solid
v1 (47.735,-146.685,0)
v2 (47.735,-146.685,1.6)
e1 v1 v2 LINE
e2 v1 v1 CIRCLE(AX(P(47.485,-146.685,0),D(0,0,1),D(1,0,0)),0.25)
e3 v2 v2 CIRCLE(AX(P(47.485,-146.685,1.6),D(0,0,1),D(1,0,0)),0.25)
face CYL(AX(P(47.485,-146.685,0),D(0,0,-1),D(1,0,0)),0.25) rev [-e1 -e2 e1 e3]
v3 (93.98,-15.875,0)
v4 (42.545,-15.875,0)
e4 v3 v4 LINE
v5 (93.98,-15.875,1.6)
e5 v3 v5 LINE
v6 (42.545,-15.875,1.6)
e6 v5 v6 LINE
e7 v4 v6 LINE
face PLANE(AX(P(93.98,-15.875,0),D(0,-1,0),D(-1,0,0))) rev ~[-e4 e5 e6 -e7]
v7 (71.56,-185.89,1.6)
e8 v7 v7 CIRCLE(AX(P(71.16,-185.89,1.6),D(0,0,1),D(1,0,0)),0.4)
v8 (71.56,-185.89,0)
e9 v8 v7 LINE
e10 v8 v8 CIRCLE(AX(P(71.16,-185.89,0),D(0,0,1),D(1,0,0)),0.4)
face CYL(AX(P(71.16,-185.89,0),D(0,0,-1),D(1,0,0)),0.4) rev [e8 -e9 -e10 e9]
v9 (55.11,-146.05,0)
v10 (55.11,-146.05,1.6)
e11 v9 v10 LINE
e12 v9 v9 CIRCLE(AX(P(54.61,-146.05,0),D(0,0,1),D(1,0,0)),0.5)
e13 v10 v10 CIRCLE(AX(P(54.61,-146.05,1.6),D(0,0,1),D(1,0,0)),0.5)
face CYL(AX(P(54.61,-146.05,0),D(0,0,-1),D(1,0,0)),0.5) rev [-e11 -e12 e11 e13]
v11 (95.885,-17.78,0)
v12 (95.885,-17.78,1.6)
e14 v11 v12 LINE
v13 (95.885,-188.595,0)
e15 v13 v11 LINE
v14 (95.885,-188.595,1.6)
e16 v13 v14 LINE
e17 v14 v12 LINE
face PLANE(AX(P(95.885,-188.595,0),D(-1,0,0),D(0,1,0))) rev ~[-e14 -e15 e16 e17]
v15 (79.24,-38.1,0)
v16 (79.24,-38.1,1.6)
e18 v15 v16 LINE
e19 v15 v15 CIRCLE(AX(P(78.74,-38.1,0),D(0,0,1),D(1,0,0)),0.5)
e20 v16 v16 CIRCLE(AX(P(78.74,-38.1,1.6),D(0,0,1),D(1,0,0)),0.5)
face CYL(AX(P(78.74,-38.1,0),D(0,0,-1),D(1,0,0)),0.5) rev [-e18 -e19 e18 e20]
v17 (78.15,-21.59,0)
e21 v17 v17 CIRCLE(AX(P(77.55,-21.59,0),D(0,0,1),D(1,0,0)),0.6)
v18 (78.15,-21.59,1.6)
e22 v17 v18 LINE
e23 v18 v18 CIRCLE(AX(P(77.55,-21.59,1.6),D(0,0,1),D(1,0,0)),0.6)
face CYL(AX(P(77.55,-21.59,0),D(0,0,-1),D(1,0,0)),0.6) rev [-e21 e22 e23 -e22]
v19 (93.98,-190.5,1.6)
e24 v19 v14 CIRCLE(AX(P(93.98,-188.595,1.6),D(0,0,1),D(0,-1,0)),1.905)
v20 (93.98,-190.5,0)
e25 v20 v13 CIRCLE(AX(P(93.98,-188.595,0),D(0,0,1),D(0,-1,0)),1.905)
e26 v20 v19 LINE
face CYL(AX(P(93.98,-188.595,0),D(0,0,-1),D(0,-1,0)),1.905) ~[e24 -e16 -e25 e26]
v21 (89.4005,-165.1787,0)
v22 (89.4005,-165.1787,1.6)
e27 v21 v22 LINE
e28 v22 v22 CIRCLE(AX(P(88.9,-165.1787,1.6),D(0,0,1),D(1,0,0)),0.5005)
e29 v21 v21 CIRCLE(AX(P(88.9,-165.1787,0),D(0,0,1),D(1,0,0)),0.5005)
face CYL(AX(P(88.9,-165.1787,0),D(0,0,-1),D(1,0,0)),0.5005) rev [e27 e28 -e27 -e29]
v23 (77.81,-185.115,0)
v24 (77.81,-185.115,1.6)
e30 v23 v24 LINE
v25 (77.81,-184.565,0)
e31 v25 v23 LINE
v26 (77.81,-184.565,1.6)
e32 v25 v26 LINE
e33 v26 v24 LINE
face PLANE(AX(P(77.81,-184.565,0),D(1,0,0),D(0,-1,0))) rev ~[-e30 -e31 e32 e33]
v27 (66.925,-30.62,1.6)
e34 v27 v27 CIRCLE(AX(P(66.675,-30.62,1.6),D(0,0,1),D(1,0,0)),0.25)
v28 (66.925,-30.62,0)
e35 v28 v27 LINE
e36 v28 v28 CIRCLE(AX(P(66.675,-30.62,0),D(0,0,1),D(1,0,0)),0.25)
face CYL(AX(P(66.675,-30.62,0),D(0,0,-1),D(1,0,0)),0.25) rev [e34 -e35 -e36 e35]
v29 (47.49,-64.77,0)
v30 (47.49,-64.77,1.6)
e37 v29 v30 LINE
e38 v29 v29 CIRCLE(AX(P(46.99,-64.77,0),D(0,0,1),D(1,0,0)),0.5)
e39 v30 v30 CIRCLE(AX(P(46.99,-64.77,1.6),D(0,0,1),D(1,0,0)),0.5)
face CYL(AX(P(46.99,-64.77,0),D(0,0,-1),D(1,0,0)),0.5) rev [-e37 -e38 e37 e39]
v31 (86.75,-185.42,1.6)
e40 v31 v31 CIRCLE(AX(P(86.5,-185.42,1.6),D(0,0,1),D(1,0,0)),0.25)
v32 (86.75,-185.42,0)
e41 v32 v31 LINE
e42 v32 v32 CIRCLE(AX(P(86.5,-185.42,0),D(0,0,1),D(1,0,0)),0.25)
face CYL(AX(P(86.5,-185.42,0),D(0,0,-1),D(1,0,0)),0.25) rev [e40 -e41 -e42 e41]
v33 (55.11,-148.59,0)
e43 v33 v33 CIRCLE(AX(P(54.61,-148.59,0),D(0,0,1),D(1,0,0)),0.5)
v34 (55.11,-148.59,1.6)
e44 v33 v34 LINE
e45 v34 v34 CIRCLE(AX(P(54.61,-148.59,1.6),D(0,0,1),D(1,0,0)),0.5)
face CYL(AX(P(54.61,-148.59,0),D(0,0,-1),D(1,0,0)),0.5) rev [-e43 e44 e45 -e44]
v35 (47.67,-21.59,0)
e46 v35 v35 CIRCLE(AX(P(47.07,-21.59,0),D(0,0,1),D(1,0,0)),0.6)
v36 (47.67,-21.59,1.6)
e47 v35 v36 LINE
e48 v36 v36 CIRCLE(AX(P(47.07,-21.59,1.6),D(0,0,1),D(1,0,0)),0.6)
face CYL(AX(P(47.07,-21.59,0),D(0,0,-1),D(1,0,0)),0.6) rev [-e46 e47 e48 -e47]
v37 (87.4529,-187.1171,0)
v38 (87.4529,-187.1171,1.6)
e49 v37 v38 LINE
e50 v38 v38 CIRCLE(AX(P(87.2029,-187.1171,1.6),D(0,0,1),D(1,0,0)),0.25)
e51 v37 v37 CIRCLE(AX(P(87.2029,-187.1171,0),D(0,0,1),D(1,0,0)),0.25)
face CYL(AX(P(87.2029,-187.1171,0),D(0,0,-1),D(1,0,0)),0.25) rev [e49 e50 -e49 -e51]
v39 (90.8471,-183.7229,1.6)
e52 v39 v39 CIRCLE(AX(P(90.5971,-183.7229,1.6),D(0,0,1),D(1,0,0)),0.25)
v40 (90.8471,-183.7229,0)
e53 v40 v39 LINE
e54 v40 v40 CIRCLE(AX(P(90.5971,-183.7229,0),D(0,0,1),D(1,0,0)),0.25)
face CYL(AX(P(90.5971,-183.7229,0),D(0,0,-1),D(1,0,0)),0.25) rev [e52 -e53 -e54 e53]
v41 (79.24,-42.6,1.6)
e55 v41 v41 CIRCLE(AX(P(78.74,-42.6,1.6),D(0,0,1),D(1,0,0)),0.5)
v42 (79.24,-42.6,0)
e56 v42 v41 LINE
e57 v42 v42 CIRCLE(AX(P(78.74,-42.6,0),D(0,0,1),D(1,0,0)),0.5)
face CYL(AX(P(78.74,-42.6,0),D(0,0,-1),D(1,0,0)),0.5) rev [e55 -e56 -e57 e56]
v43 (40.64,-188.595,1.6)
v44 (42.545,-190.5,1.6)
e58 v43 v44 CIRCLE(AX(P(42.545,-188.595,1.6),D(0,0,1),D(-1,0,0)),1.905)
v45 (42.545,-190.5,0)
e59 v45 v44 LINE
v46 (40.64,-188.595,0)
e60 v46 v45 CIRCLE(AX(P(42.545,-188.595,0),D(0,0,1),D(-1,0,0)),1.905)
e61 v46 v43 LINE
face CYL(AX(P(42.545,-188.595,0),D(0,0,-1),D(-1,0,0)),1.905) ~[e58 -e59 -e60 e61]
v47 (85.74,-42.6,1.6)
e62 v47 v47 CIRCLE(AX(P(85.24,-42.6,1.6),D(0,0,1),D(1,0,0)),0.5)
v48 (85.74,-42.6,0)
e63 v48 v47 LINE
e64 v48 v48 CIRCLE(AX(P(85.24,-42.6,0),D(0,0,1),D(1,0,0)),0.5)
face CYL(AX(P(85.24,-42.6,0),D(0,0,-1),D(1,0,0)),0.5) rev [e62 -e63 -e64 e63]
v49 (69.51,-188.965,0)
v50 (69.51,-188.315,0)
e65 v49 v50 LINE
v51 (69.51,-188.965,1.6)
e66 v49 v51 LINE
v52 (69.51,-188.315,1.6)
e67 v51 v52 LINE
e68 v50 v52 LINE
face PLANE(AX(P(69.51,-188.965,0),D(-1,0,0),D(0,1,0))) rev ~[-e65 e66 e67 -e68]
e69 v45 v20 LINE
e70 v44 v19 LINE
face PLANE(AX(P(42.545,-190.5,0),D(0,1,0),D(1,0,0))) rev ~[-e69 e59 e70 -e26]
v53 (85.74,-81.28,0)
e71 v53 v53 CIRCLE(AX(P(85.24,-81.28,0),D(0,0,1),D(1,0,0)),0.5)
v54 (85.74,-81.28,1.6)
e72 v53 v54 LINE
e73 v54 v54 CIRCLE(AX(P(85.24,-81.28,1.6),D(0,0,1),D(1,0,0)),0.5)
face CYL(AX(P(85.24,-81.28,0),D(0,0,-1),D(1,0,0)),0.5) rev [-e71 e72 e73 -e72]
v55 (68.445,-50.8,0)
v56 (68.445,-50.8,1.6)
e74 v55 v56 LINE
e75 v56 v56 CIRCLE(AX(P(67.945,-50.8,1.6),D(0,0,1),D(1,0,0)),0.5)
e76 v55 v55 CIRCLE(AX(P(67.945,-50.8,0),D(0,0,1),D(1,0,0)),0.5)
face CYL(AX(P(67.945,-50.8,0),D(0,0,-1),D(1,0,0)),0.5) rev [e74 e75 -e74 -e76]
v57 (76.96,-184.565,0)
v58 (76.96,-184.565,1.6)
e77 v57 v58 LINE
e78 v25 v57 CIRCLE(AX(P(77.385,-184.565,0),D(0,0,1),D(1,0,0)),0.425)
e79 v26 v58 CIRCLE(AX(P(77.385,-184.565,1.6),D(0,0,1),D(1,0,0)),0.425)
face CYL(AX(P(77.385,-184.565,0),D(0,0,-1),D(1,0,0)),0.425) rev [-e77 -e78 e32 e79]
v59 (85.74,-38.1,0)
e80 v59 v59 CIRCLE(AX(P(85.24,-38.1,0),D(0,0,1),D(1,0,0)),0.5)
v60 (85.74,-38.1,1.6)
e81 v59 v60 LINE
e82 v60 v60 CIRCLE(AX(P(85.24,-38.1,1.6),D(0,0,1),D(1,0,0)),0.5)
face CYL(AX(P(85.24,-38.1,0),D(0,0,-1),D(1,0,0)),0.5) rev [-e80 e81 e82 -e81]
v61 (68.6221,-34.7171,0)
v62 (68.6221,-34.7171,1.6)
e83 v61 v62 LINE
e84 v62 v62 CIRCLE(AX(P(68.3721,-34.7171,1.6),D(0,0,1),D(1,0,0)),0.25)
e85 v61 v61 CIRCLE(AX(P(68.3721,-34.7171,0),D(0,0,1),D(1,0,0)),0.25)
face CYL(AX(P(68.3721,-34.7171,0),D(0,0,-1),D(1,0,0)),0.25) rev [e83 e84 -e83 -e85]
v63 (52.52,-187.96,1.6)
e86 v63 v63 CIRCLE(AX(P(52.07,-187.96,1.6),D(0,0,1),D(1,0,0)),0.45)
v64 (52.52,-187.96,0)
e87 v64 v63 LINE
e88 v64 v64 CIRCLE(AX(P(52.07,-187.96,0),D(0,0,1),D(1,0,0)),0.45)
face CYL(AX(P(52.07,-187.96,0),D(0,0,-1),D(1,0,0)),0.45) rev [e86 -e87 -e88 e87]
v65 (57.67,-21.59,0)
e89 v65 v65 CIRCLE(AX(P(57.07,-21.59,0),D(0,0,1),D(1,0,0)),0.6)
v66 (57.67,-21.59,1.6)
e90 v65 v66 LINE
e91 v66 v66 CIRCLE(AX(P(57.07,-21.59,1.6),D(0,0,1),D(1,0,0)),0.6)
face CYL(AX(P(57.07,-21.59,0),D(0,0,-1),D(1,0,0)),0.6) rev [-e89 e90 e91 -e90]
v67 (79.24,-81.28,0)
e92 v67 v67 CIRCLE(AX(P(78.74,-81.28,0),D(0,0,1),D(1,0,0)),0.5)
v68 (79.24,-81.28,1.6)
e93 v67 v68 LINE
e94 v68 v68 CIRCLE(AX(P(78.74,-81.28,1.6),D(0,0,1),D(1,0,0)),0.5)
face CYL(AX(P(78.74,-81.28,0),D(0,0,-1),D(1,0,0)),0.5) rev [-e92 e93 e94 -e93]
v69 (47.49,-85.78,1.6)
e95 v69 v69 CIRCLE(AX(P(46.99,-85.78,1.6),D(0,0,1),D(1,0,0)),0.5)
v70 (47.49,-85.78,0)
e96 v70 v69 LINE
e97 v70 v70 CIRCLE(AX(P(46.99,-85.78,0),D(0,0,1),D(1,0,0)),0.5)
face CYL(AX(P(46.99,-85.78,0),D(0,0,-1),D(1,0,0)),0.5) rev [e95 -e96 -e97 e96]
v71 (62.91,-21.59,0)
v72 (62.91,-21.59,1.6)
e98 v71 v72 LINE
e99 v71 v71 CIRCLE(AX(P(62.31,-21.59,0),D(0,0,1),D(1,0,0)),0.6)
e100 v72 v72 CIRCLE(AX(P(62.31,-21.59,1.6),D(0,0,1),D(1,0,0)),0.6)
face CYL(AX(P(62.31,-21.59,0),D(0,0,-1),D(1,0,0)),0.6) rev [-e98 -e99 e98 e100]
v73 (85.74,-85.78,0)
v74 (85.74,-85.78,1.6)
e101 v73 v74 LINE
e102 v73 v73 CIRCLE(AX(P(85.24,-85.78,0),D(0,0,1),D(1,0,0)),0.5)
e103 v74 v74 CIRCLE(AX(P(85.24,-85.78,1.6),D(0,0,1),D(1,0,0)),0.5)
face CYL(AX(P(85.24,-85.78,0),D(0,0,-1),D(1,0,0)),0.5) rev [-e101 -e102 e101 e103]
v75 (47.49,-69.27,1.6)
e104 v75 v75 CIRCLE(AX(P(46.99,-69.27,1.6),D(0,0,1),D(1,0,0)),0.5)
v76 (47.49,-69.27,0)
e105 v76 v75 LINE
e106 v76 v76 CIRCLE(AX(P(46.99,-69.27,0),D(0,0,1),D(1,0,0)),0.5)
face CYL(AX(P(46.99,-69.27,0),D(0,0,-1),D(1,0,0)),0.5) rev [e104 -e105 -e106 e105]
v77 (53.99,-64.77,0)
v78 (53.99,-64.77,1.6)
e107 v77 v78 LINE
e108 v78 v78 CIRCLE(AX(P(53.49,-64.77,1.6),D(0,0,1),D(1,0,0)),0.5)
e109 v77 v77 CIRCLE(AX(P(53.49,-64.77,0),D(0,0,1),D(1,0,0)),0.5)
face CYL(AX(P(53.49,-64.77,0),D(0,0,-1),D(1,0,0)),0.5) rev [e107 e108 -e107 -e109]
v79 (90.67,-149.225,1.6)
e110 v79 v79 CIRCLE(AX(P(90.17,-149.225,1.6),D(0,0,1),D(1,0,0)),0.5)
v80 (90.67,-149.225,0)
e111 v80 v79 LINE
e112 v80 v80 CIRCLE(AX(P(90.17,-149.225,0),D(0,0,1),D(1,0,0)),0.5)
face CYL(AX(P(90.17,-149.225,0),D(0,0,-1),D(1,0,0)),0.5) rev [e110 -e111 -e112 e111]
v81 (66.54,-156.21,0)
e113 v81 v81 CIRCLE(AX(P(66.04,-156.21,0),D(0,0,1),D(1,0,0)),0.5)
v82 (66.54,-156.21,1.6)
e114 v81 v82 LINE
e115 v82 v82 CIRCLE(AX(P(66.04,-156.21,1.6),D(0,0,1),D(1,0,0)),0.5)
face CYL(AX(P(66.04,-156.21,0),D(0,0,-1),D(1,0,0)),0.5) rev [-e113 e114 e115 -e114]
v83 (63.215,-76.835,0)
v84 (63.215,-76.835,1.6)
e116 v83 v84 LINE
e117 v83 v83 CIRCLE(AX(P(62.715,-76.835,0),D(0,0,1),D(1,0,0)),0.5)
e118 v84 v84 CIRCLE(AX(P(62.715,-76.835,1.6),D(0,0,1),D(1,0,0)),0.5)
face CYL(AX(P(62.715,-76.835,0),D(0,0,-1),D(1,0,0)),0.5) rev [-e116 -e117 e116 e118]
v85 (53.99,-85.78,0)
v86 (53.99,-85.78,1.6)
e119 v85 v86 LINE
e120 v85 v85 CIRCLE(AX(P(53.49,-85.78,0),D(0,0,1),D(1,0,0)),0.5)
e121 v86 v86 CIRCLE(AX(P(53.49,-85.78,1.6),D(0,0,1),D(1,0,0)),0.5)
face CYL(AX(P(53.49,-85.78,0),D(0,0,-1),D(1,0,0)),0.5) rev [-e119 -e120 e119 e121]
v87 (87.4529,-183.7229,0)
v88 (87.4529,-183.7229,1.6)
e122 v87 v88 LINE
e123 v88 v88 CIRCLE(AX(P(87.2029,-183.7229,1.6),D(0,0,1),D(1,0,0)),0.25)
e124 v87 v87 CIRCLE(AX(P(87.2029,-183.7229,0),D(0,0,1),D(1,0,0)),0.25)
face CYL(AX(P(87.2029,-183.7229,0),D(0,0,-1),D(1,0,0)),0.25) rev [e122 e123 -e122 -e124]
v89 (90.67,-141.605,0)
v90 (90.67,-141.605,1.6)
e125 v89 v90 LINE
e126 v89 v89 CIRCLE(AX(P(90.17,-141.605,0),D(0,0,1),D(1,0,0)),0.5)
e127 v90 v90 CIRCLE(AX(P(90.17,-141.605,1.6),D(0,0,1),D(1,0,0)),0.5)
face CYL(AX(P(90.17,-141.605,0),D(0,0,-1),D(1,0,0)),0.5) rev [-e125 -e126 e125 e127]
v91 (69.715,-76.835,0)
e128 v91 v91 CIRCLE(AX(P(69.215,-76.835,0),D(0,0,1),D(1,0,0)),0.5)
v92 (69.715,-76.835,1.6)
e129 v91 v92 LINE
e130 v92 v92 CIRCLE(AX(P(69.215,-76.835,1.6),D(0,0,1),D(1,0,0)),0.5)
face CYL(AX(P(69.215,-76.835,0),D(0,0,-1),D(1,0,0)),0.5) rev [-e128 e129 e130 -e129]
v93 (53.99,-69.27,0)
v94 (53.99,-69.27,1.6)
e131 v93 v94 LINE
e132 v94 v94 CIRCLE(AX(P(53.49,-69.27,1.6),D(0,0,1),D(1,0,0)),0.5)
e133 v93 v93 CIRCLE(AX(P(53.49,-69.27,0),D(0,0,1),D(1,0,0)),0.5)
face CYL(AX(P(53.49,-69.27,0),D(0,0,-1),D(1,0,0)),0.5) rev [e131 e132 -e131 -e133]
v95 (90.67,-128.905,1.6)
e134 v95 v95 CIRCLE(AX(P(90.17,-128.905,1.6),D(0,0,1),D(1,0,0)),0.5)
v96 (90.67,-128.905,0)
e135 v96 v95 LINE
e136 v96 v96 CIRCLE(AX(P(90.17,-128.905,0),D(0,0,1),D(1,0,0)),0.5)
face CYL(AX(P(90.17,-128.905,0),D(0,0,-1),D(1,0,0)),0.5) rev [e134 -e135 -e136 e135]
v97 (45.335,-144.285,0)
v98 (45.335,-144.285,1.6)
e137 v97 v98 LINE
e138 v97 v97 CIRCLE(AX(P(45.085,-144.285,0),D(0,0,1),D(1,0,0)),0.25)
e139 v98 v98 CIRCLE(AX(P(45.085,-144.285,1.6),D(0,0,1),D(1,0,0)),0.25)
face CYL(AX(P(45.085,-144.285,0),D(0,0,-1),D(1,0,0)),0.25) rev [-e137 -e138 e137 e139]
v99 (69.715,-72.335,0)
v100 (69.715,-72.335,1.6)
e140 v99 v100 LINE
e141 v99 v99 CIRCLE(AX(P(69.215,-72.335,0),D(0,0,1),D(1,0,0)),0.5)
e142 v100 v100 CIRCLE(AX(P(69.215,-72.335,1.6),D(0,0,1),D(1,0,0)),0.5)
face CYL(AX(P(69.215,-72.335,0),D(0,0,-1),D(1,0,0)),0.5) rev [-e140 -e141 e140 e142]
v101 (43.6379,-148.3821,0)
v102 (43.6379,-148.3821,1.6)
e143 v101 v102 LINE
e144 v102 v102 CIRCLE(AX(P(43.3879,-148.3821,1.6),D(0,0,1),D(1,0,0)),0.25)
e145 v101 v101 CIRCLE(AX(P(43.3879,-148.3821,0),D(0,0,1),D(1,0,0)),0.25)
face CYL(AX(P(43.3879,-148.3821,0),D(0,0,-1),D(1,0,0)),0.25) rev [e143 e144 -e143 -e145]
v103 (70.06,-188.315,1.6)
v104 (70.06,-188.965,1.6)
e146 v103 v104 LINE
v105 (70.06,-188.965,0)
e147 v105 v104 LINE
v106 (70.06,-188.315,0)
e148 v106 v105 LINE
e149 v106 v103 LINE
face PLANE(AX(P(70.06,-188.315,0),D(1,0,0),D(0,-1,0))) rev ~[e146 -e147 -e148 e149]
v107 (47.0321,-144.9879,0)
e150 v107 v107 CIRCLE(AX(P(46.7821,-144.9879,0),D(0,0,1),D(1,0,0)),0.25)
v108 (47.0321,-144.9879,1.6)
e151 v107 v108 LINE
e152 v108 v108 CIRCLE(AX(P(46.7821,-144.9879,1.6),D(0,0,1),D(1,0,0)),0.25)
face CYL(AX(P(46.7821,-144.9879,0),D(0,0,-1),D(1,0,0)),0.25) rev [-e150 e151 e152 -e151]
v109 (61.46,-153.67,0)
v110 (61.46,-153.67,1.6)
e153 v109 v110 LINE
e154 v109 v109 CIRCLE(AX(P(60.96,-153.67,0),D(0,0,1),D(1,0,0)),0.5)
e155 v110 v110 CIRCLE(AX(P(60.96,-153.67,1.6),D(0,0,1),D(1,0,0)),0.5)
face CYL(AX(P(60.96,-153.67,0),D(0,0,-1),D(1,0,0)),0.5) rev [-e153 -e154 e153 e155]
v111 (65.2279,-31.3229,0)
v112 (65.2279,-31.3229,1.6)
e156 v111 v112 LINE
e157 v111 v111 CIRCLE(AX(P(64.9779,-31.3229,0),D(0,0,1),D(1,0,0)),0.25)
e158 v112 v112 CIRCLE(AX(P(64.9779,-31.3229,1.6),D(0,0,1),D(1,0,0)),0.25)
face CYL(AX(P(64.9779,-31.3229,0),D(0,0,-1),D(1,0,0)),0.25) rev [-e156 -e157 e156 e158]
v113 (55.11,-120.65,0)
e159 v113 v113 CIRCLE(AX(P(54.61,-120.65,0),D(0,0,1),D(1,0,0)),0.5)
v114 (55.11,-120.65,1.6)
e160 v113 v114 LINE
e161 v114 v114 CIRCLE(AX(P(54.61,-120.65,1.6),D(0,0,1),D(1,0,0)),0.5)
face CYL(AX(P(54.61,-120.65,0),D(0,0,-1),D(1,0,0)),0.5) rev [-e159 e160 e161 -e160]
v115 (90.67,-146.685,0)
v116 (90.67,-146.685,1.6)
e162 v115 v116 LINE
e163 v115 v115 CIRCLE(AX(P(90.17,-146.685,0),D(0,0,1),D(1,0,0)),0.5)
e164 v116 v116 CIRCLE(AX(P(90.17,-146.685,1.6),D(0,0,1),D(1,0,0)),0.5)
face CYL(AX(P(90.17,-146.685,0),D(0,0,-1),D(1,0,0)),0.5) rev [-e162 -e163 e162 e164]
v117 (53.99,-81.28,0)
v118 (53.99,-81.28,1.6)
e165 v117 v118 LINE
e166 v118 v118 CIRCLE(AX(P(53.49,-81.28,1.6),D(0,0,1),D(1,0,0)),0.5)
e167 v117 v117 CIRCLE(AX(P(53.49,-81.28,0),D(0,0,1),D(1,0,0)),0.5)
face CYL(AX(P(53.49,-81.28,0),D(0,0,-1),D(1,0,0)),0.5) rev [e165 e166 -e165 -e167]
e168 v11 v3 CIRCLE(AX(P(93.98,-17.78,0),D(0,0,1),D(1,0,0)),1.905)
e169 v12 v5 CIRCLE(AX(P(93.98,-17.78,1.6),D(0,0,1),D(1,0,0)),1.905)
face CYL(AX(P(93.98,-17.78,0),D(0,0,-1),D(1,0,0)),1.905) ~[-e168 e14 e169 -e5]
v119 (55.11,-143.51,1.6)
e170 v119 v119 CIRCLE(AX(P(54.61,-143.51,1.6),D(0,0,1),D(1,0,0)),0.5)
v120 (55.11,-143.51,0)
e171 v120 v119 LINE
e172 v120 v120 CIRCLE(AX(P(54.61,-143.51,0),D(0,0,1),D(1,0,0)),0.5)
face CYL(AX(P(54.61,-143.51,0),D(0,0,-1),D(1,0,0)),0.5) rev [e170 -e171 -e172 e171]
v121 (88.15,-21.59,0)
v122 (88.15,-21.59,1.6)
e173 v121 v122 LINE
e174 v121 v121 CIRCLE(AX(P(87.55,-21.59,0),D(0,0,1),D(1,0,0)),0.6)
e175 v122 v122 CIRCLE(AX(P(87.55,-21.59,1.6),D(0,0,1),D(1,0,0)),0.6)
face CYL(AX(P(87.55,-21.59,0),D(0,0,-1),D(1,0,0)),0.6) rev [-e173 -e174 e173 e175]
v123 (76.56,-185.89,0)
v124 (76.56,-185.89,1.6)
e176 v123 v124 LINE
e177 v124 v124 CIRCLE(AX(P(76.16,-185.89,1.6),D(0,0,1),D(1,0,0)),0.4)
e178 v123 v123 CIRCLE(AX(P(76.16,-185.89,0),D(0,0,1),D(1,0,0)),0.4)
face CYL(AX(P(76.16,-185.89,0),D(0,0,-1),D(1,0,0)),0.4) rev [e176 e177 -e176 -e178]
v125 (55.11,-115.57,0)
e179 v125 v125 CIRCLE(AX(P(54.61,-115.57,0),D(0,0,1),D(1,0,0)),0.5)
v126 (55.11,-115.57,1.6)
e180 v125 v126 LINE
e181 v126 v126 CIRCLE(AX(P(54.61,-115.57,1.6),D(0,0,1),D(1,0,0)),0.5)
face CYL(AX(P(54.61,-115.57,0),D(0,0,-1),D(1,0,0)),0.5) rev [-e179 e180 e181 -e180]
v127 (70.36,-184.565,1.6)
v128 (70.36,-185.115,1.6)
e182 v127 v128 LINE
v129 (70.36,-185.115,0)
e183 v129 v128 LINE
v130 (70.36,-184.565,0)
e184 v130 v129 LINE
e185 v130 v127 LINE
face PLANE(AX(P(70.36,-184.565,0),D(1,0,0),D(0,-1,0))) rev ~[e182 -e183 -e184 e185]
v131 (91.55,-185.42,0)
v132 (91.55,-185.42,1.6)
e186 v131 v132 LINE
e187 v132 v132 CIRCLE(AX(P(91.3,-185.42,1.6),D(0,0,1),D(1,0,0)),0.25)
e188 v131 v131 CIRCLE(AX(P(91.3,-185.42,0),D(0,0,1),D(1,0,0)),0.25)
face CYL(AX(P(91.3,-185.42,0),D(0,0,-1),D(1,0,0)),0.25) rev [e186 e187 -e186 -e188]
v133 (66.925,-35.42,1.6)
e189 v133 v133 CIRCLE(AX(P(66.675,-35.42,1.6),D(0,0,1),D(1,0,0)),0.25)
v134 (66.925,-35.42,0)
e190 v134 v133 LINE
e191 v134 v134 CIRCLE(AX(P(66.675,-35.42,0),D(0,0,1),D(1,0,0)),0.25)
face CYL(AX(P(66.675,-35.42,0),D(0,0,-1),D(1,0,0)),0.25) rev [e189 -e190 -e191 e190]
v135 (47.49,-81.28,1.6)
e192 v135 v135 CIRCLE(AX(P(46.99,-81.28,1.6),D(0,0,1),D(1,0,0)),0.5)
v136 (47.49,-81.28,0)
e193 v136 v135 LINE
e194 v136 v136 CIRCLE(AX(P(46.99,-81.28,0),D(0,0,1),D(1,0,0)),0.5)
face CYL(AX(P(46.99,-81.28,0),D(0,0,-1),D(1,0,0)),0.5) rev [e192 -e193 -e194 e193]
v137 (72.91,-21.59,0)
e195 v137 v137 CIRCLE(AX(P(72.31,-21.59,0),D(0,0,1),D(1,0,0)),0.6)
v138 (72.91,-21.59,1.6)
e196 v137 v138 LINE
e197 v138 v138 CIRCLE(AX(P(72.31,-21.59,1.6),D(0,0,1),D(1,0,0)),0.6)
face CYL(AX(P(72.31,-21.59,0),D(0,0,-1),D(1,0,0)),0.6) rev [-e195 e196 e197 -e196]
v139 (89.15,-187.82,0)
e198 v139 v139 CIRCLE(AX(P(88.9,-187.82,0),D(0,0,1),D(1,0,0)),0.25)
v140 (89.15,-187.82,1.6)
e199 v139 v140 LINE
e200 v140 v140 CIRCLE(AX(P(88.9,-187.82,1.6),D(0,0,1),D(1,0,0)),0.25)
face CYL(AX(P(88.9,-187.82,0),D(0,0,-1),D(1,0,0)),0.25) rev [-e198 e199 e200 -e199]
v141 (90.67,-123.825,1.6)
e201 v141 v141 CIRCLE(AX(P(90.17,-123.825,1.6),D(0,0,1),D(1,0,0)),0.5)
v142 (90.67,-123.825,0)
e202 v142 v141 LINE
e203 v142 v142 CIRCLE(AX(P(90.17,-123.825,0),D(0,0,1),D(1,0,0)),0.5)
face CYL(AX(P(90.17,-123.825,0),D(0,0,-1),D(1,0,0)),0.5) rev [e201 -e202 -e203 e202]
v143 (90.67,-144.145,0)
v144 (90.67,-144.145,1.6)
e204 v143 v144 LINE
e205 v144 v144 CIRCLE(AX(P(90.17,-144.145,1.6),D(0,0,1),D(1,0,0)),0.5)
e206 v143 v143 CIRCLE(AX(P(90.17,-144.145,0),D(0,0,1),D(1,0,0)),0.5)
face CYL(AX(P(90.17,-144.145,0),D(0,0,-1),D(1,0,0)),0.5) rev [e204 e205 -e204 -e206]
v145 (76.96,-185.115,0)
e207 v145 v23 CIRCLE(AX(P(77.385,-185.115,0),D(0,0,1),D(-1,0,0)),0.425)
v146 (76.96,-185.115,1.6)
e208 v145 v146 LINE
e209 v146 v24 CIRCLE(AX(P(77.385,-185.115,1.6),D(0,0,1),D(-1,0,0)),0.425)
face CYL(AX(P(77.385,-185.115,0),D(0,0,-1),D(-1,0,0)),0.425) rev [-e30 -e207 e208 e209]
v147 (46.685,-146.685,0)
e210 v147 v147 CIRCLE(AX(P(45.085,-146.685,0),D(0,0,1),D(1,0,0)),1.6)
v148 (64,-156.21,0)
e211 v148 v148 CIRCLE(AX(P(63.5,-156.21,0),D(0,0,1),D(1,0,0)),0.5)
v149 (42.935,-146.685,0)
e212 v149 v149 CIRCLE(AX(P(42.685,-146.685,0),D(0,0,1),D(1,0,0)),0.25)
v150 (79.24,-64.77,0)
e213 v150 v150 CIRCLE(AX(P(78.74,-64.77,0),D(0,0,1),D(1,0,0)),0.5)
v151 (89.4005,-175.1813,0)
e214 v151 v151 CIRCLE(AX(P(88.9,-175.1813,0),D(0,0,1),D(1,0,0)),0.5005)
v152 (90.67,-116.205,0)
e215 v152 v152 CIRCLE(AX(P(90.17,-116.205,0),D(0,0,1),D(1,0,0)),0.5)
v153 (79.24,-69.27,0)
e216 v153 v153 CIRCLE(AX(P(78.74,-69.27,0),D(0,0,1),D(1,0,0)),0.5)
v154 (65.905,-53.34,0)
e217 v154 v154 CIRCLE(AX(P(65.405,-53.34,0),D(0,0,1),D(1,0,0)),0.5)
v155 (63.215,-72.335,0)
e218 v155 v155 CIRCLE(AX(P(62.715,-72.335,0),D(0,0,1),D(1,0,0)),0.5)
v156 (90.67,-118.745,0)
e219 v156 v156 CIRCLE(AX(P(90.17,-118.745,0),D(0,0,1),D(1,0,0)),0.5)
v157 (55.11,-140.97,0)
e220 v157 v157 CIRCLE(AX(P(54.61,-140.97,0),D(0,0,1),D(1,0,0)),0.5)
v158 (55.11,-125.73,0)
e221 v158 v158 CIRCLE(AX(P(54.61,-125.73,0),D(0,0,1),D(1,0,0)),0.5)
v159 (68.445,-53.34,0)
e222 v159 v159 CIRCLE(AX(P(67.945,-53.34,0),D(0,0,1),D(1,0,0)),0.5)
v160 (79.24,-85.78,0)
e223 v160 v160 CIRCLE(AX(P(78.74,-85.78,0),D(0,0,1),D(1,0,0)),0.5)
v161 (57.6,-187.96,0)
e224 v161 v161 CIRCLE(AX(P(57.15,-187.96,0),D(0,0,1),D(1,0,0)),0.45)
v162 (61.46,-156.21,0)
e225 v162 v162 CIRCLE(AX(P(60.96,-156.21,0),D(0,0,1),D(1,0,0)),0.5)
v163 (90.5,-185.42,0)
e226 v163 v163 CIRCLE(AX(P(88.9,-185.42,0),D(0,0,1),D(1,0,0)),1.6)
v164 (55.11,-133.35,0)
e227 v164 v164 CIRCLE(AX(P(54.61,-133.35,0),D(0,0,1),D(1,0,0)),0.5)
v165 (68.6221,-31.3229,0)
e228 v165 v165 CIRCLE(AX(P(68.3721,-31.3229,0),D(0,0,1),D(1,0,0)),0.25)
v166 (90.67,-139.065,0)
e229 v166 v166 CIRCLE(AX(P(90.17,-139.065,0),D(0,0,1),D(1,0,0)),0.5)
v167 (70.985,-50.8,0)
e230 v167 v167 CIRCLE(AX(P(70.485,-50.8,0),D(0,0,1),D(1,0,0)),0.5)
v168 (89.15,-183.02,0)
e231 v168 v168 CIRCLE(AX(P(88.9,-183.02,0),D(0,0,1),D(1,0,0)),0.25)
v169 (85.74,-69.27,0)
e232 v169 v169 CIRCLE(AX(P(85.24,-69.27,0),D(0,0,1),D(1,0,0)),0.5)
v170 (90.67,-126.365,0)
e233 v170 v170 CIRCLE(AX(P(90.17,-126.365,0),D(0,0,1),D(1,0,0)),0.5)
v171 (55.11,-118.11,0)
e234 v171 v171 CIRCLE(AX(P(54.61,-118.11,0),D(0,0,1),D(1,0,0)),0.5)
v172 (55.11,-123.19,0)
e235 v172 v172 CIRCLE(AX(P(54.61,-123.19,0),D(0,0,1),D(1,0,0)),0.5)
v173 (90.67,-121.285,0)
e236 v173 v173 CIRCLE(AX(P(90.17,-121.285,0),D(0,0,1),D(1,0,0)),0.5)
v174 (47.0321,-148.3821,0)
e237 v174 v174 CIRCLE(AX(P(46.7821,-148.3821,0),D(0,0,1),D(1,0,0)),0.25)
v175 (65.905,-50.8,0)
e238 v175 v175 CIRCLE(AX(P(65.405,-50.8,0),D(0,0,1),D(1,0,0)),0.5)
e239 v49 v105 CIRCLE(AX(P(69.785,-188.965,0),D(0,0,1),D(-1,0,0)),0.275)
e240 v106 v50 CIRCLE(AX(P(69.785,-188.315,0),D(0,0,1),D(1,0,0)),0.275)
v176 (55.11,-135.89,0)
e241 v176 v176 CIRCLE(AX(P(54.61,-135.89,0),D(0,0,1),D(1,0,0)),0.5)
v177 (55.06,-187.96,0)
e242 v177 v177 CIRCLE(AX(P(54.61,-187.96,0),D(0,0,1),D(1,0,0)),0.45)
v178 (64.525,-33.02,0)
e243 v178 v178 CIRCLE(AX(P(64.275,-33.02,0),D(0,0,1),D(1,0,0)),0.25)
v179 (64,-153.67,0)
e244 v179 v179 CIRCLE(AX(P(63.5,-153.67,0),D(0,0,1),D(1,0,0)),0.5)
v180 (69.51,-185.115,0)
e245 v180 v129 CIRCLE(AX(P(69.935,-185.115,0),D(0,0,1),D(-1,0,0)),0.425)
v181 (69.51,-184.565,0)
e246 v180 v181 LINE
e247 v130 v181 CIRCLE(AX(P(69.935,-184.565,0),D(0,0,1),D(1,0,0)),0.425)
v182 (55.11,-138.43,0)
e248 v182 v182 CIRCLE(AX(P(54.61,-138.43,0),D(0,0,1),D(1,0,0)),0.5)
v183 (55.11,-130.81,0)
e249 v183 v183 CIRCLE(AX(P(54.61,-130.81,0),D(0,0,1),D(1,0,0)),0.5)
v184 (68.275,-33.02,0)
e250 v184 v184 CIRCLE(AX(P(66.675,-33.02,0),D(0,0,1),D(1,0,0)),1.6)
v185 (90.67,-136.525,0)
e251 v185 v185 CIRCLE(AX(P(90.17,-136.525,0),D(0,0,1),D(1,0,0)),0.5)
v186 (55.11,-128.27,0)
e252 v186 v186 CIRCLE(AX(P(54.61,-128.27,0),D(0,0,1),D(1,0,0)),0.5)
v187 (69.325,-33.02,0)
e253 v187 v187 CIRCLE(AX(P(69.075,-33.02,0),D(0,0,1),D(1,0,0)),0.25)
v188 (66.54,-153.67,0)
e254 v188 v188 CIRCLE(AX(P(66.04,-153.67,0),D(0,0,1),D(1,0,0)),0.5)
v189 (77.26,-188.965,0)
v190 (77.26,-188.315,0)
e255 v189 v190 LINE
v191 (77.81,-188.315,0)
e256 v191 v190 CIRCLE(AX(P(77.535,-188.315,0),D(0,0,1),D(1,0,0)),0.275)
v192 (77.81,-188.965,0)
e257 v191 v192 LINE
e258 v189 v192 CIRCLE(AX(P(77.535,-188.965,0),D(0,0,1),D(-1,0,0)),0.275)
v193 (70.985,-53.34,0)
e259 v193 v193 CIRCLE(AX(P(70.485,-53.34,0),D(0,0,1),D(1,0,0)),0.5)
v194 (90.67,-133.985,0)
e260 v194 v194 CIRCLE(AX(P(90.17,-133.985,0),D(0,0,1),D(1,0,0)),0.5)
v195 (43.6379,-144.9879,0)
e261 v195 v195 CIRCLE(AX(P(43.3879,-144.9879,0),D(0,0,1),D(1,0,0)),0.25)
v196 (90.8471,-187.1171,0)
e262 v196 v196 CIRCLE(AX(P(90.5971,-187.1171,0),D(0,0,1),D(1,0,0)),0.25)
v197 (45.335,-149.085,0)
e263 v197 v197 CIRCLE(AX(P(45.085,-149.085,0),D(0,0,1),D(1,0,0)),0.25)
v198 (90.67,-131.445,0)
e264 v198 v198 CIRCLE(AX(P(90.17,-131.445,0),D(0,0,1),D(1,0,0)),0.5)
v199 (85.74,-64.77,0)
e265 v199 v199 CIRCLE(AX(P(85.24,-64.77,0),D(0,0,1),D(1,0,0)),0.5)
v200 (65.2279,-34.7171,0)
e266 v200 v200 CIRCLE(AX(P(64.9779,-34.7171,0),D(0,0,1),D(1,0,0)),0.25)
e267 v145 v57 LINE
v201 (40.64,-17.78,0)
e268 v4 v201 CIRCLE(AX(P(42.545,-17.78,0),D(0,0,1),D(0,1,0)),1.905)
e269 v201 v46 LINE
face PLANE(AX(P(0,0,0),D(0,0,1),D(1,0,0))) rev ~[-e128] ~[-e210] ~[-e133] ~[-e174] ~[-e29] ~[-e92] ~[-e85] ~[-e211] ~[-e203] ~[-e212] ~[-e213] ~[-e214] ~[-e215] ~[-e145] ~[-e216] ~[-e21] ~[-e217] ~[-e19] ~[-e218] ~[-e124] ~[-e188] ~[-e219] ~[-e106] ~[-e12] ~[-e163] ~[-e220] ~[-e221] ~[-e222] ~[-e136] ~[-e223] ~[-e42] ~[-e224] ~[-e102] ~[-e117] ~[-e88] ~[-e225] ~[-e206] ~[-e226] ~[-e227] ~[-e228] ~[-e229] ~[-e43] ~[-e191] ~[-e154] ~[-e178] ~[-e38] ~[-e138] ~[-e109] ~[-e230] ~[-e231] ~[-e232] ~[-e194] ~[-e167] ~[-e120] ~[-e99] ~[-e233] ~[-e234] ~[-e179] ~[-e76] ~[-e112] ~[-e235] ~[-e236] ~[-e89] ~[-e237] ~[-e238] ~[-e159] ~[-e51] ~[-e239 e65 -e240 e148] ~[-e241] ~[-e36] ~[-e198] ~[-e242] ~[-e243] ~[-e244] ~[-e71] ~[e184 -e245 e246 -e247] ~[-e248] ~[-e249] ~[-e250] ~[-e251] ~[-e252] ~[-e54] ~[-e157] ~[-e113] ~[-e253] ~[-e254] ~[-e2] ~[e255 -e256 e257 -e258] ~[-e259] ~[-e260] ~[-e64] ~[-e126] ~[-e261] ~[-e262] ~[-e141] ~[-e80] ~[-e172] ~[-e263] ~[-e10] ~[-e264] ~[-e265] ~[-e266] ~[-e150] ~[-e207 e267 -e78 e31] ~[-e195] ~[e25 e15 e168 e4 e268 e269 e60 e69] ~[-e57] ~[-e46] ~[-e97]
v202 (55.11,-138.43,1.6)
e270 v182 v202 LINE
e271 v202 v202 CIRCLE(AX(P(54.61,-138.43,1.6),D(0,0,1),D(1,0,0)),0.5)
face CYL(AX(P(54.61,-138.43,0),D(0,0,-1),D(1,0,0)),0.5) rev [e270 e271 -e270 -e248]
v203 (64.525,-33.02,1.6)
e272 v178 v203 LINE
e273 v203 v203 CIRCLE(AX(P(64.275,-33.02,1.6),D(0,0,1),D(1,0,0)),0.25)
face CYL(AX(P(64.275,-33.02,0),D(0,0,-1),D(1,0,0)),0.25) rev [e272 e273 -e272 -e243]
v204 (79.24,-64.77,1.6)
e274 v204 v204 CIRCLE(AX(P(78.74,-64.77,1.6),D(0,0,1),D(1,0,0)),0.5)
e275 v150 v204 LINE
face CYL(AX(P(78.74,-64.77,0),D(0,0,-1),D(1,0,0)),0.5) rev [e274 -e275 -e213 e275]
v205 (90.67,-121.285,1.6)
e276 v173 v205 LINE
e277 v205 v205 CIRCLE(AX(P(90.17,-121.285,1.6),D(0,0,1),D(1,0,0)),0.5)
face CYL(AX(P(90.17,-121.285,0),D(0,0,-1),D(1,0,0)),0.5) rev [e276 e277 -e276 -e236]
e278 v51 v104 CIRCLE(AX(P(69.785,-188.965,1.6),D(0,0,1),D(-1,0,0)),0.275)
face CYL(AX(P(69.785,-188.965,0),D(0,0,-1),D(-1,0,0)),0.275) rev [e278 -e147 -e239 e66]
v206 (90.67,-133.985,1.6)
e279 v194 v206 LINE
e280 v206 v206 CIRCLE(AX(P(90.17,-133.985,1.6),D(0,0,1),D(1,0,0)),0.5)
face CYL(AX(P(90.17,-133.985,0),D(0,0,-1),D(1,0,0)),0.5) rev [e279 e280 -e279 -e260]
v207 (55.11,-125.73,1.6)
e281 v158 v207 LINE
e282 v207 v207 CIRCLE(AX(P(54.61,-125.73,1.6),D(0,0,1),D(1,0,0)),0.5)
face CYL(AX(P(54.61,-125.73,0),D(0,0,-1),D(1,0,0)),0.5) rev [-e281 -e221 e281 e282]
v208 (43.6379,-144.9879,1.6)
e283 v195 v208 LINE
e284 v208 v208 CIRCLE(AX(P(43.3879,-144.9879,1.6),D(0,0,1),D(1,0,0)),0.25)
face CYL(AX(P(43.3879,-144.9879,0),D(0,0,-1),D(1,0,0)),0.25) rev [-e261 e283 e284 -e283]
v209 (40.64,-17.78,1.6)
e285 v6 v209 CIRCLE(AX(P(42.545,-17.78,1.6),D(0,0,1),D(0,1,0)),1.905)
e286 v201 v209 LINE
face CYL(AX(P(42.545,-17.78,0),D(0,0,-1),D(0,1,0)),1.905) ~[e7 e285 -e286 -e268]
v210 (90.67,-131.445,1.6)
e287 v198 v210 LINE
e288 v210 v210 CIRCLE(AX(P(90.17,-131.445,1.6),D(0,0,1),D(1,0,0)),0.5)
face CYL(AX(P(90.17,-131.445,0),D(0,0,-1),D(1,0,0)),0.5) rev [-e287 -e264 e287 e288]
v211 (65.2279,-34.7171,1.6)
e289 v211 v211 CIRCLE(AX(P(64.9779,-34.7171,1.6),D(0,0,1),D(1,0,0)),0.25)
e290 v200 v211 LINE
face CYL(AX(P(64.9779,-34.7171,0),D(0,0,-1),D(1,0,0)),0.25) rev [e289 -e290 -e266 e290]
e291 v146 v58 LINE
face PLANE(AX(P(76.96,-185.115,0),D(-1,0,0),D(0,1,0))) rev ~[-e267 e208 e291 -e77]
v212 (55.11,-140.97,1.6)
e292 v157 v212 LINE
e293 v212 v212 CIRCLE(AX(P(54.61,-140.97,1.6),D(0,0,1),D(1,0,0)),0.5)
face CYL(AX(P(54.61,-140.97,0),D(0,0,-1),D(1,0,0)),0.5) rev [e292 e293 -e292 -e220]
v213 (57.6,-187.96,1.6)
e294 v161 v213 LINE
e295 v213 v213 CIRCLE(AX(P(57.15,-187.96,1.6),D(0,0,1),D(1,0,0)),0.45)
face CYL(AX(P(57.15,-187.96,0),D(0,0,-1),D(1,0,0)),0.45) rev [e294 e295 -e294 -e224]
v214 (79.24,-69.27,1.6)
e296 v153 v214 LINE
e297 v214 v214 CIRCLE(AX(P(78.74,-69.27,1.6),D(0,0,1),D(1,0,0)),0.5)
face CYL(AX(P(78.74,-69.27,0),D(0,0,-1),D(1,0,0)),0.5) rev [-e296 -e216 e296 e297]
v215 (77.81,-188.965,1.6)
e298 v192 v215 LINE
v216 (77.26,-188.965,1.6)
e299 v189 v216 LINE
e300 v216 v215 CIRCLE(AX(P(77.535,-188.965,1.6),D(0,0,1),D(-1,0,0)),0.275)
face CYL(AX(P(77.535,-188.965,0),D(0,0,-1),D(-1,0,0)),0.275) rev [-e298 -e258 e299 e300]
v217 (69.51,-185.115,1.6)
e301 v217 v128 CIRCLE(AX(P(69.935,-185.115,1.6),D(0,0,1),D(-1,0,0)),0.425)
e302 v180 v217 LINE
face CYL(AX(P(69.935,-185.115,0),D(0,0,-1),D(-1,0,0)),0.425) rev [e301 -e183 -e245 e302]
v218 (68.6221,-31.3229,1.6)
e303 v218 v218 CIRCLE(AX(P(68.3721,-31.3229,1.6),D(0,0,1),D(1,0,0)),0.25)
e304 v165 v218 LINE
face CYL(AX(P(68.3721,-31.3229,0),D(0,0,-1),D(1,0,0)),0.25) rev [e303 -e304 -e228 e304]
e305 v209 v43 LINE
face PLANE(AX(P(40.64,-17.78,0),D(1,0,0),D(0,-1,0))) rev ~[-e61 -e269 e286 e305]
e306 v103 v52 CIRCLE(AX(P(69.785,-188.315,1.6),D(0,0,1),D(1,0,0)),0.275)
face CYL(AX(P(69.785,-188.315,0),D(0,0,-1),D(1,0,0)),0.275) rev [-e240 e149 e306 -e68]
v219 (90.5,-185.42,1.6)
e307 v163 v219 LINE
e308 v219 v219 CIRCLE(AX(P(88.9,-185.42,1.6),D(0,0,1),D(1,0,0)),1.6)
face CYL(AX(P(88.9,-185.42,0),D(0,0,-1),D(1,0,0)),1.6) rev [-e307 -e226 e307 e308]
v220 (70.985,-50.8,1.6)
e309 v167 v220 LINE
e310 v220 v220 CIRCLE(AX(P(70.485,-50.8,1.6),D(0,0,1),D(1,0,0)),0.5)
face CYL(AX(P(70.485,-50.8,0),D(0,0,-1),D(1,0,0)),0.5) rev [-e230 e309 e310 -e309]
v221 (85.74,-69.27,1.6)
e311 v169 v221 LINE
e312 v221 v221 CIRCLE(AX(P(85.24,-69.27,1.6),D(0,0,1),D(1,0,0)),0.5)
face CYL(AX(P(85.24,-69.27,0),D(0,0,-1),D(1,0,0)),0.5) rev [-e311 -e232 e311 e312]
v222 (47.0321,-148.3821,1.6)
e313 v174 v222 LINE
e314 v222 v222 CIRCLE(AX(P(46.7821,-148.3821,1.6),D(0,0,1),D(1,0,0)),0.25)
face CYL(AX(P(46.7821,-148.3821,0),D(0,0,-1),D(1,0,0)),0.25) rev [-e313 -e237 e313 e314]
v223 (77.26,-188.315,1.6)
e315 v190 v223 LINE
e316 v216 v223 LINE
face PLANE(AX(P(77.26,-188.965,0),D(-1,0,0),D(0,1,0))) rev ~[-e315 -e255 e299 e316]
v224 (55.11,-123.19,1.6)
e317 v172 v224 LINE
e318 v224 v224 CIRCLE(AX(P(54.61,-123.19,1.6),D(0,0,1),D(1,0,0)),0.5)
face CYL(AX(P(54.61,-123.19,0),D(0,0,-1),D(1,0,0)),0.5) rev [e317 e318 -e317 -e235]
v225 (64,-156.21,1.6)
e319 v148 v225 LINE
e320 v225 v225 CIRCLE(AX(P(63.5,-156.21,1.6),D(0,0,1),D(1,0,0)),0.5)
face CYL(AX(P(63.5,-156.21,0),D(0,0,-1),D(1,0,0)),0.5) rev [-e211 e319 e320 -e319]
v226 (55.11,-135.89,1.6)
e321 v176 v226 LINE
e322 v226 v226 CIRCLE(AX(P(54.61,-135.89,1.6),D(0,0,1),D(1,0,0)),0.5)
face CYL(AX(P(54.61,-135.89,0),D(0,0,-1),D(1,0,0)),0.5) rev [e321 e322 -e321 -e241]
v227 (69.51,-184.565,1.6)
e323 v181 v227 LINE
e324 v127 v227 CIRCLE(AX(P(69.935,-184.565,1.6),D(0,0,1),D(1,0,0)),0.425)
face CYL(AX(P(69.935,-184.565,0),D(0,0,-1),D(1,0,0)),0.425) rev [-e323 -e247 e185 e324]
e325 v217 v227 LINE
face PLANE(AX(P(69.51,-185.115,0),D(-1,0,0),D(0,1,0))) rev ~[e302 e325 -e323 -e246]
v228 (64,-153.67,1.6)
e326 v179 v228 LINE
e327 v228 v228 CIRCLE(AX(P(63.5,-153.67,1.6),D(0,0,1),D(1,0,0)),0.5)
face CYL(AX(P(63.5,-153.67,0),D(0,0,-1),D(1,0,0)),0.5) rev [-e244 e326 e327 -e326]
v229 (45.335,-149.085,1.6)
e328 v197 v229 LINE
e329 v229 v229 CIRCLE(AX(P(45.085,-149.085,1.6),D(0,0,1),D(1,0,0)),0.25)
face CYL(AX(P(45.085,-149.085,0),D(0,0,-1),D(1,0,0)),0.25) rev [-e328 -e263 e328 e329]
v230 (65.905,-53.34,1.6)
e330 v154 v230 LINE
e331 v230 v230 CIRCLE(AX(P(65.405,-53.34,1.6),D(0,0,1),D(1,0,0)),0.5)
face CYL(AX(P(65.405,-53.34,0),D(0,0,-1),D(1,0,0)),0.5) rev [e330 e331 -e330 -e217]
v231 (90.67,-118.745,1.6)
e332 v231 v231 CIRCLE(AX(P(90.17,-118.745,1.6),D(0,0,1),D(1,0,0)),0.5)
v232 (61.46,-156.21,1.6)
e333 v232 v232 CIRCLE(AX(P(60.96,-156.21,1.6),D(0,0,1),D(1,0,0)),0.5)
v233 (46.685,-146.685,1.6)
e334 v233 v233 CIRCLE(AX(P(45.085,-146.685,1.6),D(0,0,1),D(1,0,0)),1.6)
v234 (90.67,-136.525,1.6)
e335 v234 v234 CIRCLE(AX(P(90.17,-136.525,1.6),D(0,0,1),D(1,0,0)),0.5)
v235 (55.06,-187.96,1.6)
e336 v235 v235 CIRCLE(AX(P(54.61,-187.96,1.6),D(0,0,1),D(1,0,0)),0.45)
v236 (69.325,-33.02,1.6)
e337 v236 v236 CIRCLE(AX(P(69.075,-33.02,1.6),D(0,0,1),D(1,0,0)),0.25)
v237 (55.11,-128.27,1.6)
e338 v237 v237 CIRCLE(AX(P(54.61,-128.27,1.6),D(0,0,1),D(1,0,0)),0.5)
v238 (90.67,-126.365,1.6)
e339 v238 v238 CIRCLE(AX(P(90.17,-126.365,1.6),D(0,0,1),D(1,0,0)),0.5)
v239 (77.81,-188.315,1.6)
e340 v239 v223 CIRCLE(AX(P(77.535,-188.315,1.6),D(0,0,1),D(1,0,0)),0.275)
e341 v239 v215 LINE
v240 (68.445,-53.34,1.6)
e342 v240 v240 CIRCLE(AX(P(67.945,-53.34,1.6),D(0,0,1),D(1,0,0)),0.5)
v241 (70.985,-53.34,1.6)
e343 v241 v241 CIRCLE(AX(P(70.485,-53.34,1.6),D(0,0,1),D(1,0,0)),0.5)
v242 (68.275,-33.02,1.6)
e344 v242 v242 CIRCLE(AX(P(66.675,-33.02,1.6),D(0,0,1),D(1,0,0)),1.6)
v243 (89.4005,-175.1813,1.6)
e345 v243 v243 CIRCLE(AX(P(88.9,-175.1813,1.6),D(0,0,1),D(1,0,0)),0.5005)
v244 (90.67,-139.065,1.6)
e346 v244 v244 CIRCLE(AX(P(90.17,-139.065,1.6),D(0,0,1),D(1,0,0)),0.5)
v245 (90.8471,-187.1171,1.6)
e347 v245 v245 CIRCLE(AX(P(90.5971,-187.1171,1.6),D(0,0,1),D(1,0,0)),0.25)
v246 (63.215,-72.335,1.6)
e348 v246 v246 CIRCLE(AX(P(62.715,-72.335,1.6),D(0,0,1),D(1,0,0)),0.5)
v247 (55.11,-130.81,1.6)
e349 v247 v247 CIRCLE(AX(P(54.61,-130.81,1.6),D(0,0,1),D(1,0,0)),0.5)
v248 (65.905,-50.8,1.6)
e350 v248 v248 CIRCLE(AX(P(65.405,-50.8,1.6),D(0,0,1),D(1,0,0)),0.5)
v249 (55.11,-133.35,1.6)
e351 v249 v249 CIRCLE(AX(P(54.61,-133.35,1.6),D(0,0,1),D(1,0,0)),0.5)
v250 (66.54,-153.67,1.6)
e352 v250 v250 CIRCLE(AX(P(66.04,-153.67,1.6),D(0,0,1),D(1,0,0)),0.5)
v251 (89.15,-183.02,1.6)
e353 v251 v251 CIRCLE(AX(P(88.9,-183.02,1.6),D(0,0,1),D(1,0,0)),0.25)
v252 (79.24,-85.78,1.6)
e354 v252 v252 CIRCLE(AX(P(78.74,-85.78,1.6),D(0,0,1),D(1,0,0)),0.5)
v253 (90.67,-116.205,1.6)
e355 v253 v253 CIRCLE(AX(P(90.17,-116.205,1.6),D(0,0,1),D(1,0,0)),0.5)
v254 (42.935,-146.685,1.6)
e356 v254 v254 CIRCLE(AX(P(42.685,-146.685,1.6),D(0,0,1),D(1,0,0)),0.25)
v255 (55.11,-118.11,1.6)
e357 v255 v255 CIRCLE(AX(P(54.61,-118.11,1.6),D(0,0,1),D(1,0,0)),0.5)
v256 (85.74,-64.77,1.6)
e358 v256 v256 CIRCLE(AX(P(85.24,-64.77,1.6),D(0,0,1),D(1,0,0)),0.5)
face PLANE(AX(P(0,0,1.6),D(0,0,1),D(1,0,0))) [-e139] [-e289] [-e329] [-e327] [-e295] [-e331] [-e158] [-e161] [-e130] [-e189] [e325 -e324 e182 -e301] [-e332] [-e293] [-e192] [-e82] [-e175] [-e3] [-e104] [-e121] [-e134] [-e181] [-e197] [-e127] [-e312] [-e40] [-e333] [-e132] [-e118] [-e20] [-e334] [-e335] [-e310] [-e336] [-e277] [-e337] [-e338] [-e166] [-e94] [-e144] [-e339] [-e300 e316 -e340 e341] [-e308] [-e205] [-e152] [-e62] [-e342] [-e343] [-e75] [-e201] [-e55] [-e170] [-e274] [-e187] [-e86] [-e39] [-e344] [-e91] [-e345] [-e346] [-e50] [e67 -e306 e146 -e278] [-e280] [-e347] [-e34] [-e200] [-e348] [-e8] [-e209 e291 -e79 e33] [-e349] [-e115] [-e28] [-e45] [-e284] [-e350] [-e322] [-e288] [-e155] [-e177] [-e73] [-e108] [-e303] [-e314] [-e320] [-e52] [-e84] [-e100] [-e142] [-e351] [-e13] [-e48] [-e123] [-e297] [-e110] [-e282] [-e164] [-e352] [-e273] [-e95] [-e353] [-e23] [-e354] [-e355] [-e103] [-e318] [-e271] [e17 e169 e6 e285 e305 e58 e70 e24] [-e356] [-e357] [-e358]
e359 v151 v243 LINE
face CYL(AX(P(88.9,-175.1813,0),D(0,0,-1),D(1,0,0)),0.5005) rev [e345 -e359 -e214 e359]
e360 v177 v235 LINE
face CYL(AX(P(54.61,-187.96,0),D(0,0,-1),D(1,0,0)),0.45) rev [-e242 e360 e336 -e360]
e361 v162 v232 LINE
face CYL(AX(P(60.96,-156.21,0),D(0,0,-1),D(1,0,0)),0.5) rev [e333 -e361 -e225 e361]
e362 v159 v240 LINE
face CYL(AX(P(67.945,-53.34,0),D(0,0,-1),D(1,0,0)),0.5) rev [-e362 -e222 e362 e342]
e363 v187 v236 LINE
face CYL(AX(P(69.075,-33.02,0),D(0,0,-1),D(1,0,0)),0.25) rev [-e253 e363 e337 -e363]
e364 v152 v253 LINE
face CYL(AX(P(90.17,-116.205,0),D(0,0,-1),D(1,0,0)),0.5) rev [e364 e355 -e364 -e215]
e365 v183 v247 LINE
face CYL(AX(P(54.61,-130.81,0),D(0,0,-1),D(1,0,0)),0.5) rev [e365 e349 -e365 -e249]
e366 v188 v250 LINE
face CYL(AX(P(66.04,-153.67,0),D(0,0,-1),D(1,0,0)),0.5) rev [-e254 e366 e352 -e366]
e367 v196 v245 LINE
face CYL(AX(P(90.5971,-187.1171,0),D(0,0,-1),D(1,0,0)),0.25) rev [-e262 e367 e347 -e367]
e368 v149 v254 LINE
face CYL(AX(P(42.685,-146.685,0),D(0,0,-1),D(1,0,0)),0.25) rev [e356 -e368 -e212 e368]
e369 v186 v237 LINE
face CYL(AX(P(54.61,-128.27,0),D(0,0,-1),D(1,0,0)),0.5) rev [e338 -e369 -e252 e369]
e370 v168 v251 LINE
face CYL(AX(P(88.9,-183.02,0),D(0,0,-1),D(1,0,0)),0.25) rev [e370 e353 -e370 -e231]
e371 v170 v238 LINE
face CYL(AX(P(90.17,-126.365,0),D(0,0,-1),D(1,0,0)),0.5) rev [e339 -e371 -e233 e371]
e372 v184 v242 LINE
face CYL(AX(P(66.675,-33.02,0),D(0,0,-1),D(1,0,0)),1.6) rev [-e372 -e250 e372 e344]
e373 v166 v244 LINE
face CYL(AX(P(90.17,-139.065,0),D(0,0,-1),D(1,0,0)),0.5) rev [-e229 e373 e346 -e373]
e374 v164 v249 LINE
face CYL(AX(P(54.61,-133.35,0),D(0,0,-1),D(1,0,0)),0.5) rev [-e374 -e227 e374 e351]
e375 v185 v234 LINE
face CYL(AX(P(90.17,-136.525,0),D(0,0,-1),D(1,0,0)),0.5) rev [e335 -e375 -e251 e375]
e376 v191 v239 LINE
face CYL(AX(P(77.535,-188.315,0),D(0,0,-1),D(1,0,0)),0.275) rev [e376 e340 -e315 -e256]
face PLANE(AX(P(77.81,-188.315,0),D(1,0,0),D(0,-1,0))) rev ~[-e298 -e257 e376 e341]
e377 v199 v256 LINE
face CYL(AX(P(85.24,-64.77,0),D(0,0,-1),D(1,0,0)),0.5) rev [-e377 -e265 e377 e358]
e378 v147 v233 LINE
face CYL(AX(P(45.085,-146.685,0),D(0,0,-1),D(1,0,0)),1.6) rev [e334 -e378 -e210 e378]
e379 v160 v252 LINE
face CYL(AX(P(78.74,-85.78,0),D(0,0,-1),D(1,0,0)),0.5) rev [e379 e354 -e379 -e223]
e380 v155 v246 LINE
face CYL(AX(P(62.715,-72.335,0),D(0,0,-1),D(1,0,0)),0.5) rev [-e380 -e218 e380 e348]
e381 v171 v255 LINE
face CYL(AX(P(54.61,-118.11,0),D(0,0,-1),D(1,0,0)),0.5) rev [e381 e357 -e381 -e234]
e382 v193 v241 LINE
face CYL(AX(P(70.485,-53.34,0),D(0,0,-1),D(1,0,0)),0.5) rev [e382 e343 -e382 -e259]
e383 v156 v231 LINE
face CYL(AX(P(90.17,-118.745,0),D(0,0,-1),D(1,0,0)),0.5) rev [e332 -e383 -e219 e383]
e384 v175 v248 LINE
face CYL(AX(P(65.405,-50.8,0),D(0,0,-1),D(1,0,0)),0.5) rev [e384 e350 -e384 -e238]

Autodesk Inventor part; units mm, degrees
ref_plane "YZ Plane" through (0, 0, 0) normal (1, 0, 0) x (0, 1, 0)
ref_plane "XZ Plane" through (0, 0, 0) normal (0, 1, 0) x (-1, 0, 0)
ref_plane "XY Plane" through (0, 0, 0) normal (0, 0, 1) x (1, 0, 0)
sketch "Skizze1" plane through (0, 0, 0) normal (0, 0, 1) x (1, 0, 0)
  arc A0 (40.64, -188.595) -> (42.545, -190.5) centre (42.545, -188.595) ccw
  line L0 (42.545, -190.5) -> (93.98, -190.5)
  arc A1 (93.98, -190.5) -> (95.885, -188.595) centre (93.98, -188.595) ccw
  line L1 (95.885, -188.595) -> (95.885, -17.78)
  arc A2 (95.885, -17.78) -> (93.98, -15.875) centre (93.98, -17.78) ccw
  line L2 (93.98, -15.875) -> (42.545, -15.875)
  arc A3 (42.545, -15.875) -> (40.64, -17.78) centre (42.545, -17.78) ccw
  line L3 (40.64, -17.78) -> (40.64, -188.595)
  line L4 (70.36, -184.565) -> (70.36, -185.115)
  arc A4 (69.51, -185.115) -> (70.36, -185.115) centre (69.935, -185.115) ccw
  line L5 (69.51, -185.115) -> (69.51, -184.565)
  arc A5 (70.36, -184.565) -> (69.51, -184.565) centre (69.935, -184.565) ccw
  line L6 (77.81, -184.565) -> (77.81, -185.115)
  arc A6 (76.96, -185.115) -> (77.81, -185.115) centre (77.385, -185.115) ccw
  line L7 (76.96, -185.115) -> (76.96, -184.565)
  arc A7 (77.81, -184.565) -> (76.96, -184.565) centre (77.385, -184.565) ccw
  line L8 (70.06, -188.315) -> (70.06, -188.965)
  arc A8 (69.51, -188.965) -> (70.06, -188.965) centre (69.785, -188.965) ccw
  line L9 (69.51, -188.965) -> (69.51, -188.315)
  arc A9 (70.06, -188.315) -> (69.51, -188.315) centre (69.785, -188.315) ccw
  line L10 (77.81, -188.315) -> (77.81, -188.965)
  arc A10 (77.26, -188.965) -> (77.81, -188.965) centre (77.535, -188.965) ccw
  line L11 (77.26, -188.965) -> (77.26, -188.315)
  arc A11 (77.81, -188.315) -> (77.26, -188.315) centre (77.535, -188.315) ccw
  circle A12 centre (53.49, -85.78) radius 0.5
  circle A13 centre (46.99, -85.78) radius 0.5
  circle A14 centre (53.49, -81.28) radius 0.5
  circle A15 centre (46.99, -81.28) radius 0.5
  circle A16 centre (53.49, -69.27) radius 0.5
  circle A17 centre (46.99, -69.27) radius 0.5
  circle A18 centre (53.49, -64.77) radius 0.5
  circle A19 centre (46.99, -64.77) radius 0.5
  circle A20 centre (47.07, -21.59) radius 0.6
  circle A21 centre (57.07, -21.59) radius 0.6
  circle A22 centre (62.31, -21.59) radius 0.6
  circle A23 centre (72.31, -21.59) radius 0.6
  circle A24 centre (77.55, -21.59) radius 0.6
  circle A25 centre (87.55, -21.59) radius 0.6
  circle A26 centre (70.485, -53.34) radius 0.5
  circle A27 centre (70.485, -50.8) radius 0.5
  circle A28 centre (67.945, -53.34) radius 0.5
  circle A29 centre (67.945, -50.8) radius 0.5
  circle A30 centre (65.405, -53.34) radius 0.5
  circle A31 centre (65.405, -50.8) radius 0.5
  circle A32 centre (54.61, -115.57) radius 0.5
  circle A33 centre (54.61, -118.11) radius 0.5
  circle A34 centre (54.61, -120.65) radius 0.5
  circle A35 centre (54.61, -123.19) radius 0.5
  circle A36 centre (54.61, -125.73) radius 0.5
  circle A37 centre (54.61, -128.27) radius 0.5
  circle A38 centre (54.61, -130.81) radius 0.5
  circle A39 centre (54.61, -133.35) radius 0.5
  circle A40 centre (54.61, -135.89) radius 0.5
  circle A41 centre (54.61, -138.43) radius 0.5
  circle A42 centre (54.61, -140.97) radius 0.5
  circle A43 centre (54.61, -143.51) radius 0.5
  circle A44 centre (54.61, -146.05) radius 0.5
  circle A45 centre (54.61, -148.59) radius 0.5
  circle A46 centre (90.17, -116.205) radius 0.5
  circle A47 centre (90.17, -118.745) radius 0.5
  circle A48 centre (90.17, -121.285) radius 0.5
  circle A49 centre (90.17, -123.825) radius 0.5
  circle A50 centre (90.17, -126.365) radius 0.5
  circle A51 centre (90.17, -128.905) radius 0.5
  circle A52 centre (90.17, -131.445) radius 0.5
  circle A53 centre (90.17, -133.985) radius 0.5
  circle A54 centre (90.17, -136.525) radius 0.5
  circle A55 centre (90.17, -139.065) radius 0.5
  circle A56 centre (90.17, -141.605) radius 0.5
  circle A57 centre (90.17, -144.145) radius 0.5
  circle A58 centre (90.17, -146.685) radius 0.5
  circle A59 centre (90.17, -149.225) radius 0.5
  circle A60 centre (60.96, -153.67) radius 0.5
  circle A61 centre (60.96, -156.21) radius 0.5
  circle A62 centre (63.5, -153.67) radius 0.5
  circle A63 centre (63.5, -156.21) radius 0.5
  circle A64 centre (66.04, -153.67) radius 0.5
  circle A65 centre (66.04, -156.21) radius 0.5
  circle A66 centre (88.9, -175.1813) radius 0.5005
  circle A67 centre (88.9, -165.1787) radius 0.5005
  circle A68 centre (62.715, -72.335) radius 0.5
  circle A69 centre (69.215, -72.335) radius 0.5
  circle A70 centre (62.715, -76.835) radius 0.5
  circle A71 centre (69.215, -76.835) radius 0.5
  circle A72 centre (85.24, -42.6) radius 0.5
  circle A73 centre (78.74, -42.6) radius 0.5
  circle A74 centre (85.24, -38.1) radius 0.5
  circle A75 centre (78.74, -38.1) radius 0.5
  circle A76 centre (45.085, -146.685) radius 1.6
  circle A77 centre (47.485, -146.685) radius 0.25
  circle A78 centre (46.7821, -148.3821) radius 0.25
  circle A79 centre (45.085, -149.085) radius 0.25
  circle A80 centre (43.3879, -148.3821) radius 0.25
  circle A81 centre (42.685, -146.685) radius 0.25
  circle A82 centre (43.3879, -144.9879) radius 0.25
  circle A83 centre (45.085, -144.285) radius 0.25
  circle A84 centre (46.7821, -144.9879) radius 0.25
  circle A85 centre (88.9, -185.42) radius 1.6
  circle A86 centre (91.3, -185.42) radius 0.25
  circle A87 centre (90.5971, -187.1171) radius 0.25
  circle A88 centre (88.9, -187.82) radius 0.25
  circle A89 centre (87.2029, -187.1171) radius 0.25
  circle A90 centre (86.5, -185.42) radius 0.25
  circle A91 centre (87.2029, -183.7229) radius 0.25
  circle A92 centre (88.9, -183.02) radius 0.25
  circle A93 centre (90.5971, -183.7229) radius 0.25
  circle A94 centre (66.675, -33.02) radius 1.6
  circle A95 centre (69.075, -33.02) radius 0.25
  circle A96 centre (68.3721, -34.7171) radius 0.25
  circle A97 centre (66.675, -35.42) radius 0.25
  circle A98 centre (64.9779, -34.7171) radius 0.25
  circle A99 centre (64.275, -33.02) radius 0.25
  circle A100 centre (64.9779, -31.3229) radius 0.25
  circle A101 centre (66.675, -30.62) radius 0.25
  circle A102 centre (68.3721, -31.3229) radius 0.25
  circle A103 centre (52.07, -187.96) radius 0.45
  circle A104 centre (54.61, -187.96) radius 0.45
  circle A105 centre (57.15, -187.96) radius 0.45
  circle A106 centre (85.24, -85.78) radius 0.5
  circle A107 centre (78.74, -85.78) radius 0.5
  circle A108 centre (85.24, -81.28) radius 0.5
  circle A109 centre (78.74, -81.28) radius 0.5
  circle A110 centre (85.24, -69.27) radius 0.5
  circle A111 centre (78.74, -69.27) radius 0.5
  circle A112 centre (85.24, -64.77) radius 0.5
  circle A113 centre (78.74, -64.77) radius 0.5
  circle A114 centre (71.16, -185.89) radius 0.4
  circle A115 centre (76.16, -185.89) radius 0.4
extrude "fantimote.kicad_pcb_Kontur" add sketch "Skizze1" along normal blind 1.6
properties part number "fantimote.kicad_pcb_Kontur"
